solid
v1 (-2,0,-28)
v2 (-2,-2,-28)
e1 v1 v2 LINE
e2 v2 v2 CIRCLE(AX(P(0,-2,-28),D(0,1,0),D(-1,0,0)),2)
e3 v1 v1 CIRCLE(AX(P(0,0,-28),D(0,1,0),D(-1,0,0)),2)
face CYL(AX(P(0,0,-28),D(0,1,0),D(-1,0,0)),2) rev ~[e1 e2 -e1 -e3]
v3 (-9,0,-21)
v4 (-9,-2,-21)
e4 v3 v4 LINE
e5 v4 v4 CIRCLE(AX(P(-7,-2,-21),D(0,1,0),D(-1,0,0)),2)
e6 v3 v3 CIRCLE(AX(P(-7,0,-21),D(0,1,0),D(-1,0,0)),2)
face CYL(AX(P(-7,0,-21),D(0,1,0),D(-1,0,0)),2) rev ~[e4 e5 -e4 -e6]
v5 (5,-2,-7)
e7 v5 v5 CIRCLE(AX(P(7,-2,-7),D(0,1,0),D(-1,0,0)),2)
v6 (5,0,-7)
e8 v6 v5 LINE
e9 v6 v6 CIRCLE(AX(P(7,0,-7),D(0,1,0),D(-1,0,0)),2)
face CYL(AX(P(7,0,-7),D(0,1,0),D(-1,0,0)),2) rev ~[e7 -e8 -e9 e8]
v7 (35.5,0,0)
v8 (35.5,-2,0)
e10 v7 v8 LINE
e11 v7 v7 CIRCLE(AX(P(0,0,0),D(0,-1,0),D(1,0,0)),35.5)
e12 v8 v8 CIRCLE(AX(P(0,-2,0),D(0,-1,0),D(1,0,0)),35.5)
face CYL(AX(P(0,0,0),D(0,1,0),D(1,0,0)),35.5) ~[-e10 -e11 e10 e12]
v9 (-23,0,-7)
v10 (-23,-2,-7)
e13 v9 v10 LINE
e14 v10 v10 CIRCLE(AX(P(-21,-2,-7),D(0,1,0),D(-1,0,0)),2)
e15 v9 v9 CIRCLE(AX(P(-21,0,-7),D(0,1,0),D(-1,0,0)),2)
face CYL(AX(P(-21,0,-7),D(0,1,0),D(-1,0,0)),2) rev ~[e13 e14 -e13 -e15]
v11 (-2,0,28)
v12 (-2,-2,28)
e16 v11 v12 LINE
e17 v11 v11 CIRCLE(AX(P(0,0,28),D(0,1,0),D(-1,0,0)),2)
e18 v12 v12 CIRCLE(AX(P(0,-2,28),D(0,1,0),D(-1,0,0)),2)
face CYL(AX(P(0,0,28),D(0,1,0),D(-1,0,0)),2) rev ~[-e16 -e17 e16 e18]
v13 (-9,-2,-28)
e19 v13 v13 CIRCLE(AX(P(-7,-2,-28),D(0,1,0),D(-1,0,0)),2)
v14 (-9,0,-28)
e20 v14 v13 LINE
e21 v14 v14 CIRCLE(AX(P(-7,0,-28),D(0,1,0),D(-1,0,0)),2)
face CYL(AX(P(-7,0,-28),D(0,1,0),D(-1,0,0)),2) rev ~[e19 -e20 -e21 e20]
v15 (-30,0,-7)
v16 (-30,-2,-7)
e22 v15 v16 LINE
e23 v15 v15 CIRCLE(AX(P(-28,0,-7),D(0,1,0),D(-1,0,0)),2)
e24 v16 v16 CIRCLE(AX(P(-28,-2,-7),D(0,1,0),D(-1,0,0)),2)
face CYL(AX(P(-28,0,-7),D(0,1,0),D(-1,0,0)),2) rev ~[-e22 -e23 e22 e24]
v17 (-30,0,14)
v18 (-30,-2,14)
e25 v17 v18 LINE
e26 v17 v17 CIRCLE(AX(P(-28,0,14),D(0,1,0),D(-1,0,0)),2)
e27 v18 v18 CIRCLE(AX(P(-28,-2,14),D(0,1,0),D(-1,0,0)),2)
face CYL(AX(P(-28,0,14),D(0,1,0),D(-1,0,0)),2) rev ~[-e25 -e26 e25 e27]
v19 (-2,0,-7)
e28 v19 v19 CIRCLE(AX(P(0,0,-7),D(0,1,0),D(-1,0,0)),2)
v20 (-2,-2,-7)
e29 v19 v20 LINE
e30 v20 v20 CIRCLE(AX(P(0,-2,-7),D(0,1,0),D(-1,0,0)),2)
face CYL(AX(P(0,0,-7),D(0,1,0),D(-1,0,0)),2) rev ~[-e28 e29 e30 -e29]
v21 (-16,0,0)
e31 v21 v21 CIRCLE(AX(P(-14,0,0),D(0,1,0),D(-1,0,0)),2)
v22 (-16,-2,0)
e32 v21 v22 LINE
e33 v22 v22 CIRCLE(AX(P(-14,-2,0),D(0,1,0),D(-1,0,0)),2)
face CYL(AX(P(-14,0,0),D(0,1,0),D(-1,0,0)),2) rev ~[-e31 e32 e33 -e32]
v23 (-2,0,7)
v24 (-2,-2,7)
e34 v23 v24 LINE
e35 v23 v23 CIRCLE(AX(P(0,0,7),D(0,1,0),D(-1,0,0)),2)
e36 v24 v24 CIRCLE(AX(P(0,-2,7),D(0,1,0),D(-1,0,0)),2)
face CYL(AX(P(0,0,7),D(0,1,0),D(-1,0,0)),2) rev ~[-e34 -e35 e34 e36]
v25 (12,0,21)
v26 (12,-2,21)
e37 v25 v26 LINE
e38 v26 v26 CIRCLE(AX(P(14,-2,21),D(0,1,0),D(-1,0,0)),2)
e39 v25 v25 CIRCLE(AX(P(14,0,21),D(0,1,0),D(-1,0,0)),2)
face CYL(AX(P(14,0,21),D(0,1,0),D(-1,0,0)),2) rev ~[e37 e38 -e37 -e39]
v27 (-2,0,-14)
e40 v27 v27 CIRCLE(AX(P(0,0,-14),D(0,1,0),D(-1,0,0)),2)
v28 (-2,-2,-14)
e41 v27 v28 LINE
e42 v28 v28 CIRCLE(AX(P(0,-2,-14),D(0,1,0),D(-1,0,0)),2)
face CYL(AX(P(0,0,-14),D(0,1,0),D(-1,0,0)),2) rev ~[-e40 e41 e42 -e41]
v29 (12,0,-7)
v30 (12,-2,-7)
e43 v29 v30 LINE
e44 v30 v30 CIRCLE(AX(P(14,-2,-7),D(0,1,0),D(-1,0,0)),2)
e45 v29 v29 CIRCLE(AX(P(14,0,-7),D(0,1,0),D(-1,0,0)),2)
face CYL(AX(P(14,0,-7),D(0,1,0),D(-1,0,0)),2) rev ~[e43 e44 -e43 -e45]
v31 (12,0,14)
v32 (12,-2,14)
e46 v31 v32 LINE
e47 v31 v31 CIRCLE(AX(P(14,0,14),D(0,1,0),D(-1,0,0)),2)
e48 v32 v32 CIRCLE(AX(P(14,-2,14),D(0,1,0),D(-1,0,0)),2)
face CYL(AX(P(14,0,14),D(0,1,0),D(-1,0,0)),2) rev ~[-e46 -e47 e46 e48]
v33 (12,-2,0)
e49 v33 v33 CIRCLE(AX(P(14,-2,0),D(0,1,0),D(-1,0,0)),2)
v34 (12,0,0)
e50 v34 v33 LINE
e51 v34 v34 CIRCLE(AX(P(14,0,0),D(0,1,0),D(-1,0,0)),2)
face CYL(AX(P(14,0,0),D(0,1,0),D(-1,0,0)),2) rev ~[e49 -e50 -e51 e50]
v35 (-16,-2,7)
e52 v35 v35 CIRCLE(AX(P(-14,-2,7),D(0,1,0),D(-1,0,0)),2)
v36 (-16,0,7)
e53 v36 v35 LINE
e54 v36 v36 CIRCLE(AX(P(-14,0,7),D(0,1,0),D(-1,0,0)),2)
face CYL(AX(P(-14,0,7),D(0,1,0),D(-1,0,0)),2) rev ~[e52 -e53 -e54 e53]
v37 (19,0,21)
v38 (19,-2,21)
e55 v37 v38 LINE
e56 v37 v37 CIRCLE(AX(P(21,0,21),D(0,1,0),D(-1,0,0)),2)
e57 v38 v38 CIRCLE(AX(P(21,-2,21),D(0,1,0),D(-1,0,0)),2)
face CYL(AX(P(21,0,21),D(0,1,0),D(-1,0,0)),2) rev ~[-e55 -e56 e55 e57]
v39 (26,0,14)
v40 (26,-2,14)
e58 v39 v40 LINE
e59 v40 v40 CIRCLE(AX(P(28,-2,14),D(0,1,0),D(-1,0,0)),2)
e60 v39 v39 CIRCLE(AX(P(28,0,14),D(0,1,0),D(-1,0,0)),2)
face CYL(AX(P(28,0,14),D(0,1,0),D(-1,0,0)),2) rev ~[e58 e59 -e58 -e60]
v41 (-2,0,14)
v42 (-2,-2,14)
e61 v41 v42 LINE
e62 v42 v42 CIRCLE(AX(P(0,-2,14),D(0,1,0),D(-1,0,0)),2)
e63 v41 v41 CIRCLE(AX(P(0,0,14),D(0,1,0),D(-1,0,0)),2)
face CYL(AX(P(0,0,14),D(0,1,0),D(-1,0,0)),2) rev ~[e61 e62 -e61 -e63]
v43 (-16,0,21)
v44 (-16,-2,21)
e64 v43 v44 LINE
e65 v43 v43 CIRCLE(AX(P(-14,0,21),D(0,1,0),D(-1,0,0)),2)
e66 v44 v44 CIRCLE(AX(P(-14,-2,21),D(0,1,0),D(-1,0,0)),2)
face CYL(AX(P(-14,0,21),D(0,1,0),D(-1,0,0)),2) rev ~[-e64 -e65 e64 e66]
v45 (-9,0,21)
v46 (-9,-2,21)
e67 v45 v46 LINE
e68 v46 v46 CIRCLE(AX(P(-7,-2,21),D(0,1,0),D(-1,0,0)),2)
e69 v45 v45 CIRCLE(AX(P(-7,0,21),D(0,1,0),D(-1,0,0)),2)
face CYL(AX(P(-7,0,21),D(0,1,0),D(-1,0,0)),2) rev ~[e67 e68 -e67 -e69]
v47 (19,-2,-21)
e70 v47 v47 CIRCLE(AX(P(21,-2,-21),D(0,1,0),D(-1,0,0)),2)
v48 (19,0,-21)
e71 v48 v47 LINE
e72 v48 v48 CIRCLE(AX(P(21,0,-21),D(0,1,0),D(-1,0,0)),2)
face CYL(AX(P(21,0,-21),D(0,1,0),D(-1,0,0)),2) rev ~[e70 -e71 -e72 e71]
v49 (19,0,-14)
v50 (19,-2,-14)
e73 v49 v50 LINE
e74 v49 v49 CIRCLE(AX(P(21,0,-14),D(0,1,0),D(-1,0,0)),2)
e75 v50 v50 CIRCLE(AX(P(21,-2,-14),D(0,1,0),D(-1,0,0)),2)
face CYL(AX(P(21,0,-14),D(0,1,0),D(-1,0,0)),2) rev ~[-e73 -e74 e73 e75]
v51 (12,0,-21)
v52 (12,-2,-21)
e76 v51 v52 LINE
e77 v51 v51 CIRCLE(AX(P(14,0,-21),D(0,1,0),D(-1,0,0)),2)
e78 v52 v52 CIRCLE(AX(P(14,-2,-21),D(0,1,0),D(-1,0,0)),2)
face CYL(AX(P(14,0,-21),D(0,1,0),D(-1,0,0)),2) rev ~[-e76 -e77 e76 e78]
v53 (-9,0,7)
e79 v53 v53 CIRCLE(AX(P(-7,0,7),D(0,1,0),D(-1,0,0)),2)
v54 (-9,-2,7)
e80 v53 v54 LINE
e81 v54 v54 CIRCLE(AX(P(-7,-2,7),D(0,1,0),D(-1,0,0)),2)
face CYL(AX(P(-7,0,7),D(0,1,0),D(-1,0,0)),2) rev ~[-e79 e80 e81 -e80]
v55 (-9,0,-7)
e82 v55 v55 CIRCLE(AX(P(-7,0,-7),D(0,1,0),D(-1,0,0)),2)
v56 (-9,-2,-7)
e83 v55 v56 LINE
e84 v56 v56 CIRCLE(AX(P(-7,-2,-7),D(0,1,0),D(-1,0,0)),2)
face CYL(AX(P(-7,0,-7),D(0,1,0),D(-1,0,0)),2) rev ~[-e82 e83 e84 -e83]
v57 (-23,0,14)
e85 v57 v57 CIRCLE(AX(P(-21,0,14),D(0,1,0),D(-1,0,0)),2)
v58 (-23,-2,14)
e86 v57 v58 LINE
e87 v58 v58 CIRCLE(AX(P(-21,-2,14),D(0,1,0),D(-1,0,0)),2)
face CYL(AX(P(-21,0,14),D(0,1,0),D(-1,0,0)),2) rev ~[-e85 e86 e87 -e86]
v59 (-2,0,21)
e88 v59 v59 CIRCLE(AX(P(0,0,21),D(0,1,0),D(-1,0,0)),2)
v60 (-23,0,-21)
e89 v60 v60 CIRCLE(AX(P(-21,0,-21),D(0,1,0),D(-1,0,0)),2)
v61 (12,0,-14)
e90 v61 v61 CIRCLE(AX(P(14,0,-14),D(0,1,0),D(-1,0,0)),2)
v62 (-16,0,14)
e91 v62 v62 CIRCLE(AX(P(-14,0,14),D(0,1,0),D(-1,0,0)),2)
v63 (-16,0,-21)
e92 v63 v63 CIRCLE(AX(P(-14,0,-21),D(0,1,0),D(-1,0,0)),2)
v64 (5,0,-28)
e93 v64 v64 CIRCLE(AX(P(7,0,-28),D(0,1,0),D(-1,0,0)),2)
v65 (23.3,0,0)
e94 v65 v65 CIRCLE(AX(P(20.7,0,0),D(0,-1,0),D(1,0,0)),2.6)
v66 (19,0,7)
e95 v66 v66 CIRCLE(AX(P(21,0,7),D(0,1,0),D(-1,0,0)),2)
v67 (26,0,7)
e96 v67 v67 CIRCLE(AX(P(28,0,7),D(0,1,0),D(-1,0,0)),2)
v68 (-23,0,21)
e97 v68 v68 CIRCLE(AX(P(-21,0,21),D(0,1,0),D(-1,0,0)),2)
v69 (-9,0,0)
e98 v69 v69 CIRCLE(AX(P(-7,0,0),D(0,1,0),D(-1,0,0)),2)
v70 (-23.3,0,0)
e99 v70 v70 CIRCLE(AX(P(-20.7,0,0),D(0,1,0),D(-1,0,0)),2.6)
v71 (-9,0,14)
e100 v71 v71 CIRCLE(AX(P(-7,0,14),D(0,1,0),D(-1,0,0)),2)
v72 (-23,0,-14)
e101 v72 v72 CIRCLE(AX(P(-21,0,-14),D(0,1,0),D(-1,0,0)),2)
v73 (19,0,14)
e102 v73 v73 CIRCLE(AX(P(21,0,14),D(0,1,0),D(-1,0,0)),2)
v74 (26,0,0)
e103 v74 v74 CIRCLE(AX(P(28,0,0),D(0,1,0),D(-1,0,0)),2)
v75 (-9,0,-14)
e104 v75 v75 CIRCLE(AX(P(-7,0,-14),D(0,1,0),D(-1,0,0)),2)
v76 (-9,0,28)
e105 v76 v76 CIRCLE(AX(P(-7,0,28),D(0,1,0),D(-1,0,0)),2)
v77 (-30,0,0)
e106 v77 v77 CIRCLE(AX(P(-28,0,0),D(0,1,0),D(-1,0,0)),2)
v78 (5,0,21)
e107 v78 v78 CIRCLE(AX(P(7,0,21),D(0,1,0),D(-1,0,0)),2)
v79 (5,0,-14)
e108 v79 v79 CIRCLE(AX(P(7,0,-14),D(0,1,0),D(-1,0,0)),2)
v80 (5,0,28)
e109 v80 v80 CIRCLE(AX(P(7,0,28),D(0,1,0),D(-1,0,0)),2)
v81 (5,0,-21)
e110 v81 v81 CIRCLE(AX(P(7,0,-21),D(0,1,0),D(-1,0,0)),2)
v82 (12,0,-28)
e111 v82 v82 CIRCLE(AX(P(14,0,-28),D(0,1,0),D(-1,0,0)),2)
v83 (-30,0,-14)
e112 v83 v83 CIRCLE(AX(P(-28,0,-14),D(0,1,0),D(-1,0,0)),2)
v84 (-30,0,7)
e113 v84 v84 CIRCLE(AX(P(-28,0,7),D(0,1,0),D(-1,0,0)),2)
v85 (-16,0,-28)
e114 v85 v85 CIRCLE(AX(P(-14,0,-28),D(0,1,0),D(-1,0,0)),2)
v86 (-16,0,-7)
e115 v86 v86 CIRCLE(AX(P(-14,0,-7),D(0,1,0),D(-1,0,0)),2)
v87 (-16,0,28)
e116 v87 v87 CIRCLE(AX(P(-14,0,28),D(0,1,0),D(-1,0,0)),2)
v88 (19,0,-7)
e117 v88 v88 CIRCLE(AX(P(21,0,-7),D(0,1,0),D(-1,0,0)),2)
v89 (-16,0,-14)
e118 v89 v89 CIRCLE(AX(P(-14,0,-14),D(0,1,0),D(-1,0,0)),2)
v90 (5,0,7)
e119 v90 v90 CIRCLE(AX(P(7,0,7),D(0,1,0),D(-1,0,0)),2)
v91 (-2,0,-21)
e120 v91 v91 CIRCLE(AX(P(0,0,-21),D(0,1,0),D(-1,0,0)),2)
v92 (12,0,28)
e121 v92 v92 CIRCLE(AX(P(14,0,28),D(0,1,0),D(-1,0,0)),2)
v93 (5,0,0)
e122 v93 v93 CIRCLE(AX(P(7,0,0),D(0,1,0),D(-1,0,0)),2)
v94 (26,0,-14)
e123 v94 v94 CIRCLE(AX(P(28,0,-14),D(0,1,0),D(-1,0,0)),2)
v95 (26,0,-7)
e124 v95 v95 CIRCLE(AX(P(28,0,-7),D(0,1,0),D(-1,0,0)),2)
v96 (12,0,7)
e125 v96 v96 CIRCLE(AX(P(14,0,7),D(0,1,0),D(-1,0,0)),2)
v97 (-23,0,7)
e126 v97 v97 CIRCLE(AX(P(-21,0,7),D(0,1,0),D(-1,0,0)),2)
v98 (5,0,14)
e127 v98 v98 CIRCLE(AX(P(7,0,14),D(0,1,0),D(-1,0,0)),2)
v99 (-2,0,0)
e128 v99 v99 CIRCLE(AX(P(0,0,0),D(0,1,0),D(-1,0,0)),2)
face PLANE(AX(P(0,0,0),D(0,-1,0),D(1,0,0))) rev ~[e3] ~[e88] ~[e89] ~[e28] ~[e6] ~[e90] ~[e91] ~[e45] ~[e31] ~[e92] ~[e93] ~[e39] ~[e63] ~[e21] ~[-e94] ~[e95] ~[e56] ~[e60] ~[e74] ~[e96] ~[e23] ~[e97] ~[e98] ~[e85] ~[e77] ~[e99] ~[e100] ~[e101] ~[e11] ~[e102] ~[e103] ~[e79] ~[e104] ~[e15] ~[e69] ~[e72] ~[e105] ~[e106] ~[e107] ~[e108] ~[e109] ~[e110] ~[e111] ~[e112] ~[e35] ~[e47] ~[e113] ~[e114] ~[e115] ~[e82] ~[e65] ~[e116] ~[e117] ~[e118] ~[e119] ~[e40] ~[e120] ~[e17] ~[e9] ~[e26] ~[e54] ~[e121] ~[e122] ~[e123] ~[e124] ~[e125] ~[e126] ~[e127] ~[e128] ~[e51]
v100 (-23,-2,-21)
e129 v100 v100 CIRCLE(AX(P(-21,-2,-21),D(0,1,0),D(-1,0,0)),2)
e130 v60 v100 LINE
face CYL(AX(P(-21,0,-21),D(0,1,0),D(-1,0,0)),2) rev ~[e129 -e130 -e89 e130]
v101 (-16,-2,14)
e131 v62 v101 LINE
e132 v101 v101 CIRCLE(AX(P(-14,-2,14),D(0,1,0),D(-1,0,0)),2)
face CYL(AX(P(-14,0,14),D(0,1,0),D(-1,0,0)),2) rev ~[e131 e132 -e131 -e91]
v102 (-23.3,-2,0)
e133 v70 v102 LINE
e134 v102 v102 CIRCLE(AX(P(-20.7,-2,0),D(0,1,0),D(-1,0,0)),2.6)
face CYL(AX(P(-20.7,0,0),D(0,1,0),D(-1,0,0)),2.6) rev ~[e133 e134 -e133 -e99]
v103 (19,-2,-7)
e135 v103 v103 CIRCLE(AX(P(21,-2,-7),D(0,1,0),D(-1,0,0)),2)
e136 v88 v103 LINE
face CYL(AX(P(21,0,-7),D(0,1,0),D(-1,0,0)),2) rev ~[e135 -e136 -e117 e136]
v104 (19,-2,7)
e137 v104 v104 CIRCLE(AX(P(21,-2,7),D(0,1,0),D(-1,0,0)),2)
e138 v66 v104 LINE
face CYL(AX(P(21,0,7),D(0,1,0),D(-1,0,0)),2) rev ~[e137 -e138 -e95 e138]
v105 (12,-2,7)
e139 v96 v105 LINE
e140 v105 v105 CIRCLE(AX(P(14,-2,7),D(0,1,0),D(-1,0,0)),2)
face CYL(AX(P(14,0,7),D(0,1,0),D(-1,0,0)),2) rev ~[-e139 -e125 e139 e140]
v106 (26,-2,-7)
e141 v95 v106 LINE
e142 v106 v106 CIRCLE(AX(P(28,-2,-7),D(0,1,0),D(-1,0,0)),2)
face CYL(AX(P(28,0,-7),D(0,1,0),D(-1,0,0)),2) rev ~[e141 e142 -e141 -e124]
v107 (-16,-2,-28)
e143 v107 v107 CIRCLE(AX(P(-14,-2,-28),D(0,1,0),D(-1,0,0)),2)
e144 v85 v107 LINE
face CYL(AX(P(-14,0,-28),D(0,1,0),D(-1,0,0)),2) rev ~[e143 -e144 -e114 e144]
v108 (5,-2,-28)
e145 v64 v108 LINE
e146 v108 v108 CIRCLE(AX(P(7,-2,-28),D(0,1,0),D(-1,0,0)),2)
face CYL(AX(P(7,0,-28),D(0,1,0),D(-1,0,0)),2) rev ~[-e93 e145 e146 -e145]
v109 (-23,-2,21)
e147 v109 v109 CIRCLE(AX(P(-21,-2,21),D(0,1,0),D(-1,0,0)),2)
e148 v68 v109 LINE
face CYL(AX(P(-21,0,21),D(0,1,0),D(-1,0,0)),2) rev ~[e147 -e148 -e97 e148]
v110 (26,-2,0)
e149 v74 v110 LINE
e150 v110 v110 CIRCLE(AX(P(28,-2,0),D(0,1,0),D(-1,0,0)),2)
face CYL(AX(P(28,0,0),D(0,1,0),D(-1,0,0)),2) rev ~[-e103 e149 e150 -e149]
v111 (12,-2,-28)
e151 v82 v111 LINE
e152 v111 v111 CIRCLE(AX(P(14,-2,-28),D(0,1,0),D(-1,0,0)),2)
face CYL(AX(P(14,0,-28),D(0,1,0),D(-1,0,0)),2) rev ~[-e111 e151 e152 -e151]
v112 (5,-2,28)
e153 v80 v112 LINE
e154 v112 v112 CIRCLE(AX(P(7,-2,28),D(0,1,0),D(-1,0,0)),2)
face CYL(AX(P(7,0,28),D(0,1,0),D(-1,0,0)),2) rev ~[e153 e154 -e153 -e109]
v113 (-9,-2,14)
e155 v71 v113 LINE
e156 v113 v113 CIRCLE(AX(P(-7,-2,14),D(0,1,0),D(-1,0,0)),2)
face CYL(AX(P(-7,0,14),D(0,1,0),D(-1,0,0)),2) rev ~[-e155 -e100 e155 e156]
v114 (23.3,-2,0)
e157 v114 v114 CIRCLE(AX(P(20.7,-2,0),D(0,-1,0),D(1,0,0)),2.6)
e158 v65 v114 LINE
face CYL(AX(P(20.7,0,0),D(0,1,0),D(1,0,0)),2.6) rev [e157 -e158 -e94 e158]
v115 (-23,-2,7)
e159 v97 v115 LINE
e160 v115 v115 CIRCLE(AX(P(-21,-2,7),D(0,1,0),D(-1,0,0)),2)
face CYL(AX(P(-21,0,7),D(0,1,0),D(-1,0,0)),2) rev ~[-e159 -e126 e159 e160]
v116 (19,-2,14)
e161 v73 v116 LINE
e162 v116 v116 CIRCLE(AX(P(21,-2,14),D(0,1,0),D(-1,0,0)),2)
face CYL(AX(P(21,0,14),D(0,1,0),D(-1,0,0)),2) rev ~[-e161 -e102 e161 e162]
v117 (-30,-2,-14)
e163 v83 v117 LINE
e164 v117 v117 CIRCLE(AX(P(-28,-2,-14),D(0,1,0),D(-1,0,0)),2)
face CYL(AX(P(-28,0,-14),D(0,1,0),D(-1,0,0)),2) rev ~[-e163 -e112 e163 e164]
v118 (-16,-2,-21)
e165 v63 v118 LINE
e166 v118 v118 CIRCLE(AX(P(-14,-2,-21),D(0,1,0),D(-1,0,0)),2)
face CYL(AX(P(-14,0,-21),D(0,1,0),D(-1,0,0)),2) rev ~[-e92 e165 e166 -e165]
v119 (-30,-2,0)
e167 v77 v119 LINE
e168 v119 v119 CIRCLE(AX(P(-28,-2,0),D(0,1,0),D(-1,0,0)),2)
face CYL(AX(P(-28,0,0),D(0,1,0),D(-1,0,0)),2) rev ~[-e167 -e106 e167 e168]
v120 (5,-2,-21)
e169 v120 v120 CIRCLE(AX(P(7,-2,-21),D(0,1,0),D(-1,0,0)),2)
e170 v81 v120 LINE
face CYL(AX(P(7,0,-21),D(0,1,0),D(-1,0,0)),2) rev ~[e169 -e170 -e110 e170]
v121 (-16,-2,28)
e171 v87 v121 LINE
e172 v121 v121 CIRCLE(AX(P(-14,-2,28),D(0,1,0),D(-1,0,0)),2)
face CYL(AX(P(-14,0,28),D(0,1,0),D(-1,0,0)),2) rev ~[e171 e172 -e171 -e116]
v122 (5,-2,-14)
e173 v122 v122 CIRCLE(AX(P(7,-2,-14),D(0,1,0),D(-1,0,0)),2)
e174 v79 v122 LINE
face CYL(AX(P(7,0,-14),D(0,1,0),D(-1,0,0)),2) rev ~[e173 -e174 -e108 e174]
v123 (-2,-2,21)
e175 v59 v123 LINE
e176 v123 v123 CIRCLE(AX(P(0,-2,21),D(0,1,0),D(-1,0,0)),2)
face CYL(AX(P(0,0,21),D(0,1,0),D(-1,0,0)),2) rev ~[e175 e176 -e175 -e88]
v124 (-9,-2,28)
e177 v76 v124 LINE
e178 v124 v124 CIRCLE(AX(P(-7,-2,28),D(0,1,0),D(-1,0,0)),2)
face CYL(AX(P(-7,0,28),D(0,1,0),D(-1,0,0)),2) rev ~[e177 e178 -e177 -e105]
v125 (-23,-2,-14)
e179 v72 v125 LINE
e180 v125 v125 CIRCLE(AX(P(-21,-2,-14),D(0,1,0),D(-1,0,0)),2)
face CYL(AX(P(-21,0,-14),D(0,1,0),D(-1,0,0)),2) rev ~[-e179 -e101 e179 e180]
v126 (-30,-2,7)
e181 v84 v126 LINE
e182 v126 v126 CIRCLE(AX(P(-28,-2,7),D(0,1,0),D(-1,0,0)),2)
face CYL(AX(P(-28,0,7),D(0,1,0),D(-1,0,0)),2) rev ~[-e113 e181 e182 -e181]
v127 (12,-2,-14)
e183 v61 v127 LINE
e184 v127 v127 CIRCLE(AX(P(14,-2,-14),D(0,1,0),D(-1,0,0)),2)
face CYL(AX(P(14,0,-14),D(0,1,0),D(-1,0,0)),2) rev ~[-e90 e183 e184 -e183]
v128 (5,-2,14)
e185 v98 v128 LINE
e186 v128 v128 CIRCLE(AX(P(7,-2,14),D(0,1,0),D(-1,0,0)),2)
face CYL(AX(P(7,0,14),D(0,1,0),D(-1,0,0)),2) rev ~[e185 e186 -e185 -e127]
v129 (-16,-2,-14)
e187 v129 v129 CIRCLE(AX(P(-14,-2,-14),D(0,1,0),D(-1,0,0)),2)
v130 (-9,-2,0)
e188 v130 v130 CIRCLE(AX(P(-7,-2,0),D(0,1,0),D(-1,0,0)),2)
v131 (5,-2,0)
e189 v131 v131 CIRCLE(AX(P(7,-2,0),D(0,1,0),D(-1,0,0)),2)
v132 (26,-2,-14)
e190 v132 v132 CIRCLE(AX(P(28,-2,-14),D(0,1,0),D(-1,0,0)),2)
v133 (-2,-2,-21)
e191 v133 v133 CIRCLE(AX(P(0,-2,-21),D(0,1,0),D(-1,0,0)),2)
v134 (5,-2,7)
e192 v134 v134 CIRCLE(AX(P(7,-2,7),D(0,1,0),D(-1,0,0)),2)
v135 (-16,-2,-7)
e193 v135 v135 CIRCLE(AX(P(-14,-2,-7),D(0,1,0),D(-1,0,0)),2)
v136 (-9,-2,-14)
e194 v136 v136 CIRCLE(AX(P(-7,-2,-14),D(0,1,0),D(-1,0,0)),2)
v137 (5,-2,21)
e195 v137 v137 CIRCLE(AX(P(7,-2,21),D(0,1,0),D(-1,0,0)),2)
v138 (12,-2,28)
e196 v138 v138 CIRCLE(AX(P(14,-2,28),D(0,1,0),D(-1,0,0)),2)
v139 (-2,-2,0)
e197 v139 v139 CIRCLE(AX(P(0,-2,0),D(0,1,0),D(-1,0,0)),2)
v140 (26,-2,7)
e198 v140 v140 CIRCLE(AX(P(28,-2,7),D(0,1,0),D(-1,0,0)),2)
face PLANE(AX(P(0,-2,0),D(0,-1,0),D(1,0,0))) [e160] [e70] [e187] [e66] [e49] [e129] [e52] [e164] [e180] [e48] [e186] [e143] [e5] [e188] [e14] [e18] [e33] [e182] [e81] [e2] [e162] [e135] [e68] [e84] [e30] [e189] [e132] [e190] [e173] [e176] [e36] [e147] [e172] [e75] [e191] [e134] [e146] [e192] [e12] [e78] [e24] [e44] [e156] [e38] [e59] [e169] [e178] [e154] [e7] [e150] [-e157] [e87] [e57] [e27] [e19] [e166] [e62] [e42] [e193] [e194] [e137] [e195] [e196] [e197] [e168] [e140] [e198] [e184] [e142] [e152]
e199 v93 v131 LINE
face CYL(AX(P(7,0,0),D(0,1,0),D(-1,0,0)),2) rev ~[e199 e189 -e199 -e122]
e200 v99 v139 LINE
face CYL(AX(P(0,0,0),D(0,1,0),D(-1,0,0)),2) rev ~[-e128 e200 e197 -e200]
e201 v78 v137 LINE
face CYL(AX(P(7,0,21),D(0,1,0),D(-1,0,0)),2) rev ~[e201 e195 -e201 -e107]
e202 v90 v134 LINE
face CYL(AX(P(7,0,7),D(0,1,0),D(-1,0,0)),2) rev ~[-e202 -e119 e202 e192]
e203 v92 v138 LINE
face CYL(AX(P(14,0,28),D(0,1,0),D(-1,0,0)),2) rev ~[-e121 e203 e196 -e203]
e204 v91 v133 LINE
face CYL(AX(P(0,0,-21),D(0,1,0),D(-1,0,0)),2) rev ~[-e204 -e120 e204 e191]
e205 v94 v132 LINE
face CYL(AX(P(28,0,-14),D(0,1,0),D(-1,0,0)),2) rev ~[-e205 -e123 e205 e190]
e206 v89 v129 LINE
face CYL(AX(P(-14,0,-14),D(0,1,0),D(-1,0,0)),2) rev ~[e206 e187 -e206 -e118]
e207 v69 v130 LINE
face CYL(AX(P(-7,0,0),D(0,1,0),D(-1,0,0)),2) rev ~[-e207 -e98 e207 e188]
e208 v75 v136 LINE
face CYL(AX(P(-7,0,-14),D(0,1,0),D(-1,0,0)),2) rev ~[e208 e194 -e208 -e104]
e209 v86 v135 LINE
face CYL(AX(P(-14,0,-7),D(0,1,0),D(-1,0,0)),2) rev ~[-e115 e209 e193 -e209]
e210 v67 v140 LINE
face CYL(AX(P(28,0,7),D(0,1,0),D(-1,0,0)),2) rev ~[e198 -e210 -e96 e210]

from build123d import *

# Parameters (mm, degrees)
F0_R     = 2.6
F1_DEPTH = 2
F2_R     = 2
F3_DEPTH = 25


with BuildPart() as f1:
    # F0 (on Front) → F1 (new body)
    with BuildSketch(Plane.XZ):
        with BuildLine():
            ThreePointArc((-35.5, 0), (0, -35.5), (35.5, 0))
            ThreePointArc((35.5, 0), (0, 35.5), (-35.5, 0))
        make_face()
        with BuildLine():
            ThreePointArc((-18.1, 0), (-20.7, -2.6), (-23.3, 0))
            ThreePointArc((-23.3, 0), (-20.7, 2.6), (-18.1, 0))
        make_face(mode=Mode.SUBTRACT)
        with Locations((20.7, 0)):
            Circle(F0_R, mode=Mode.SUBTRACT)
    extrude(amount=F1_DEPTH)

    # F2 (on face) → F3 (cut)
    with BuildSketch(Plane(origin=(0, 0, 0), x_dir=(-1, 0, 0), z_dir=(0, 1, 0))):
        Circle(F2_R)
        with Locations((0, 7)):
            Circle(F2_R)
        with Locations((0, 14)):
            Circle(F2_R)
        with Locations((0, 21)):
            Circle(F2_R)
        with Locations((0, 28)):
            Circle(F2_R)
        with Locations((7, 0)):
            Circle(F2_R)
        with Locations((7, 7)):
            Circle(F2_R)
        with Locations((7, 14)):
            Circle(F2_R)
        with Locations((7, 21)):
            Circle(F2_R)
        with Locations((7, 28)):
            Circle(F2_R)
        with Locations((14, 0)):
            Circle(F2_R)
        with Locations((14, 7)):
            Circle(F2_R)
        with Locations((14, 14)):
            Circle(F2_R)
        with Locations((14, 21)):
            Circle(F2_R)
        with Locations((14, 28)):
            Circle(F2_R)
        with Locations((21, 7)):
            Circle(F2_R)
        with Locations((21, 14)):
            Circle(F2_R)
        with Locations((21, 21)):
            Circle(F2_R)
        with Locations((28, 0)):
            Circle(F2_R)
        with Locations((28, 7)):
            Circle(F2_R)
        with Locations((28, 14)):
            Circle(F2_R)
        with Locations((-7, 28)):
            Circle(F2_R)
        with Locations((-7, 21)):
            Circle(F2_R)
        with Locations((-7, 14)):
            Circle(F2_R)
        with Locations((-7, 7)):
            Circle(F2_R)
        with Locations((-7, 0)):
            Circle(F2_R)
        with Locations((-14, 28)):
            Circle(F2_R)
        with Locations((-14, 21)):
            Circle(F2_R)
        with Locations((-14, 14)):
            Circle(F2_R)
        with Locations((-14, 7)):
            Circle(F2_R)
        with Locations((-14, 0)):
            Circle(F2_R)
        with Locations((-21, 21)):
            Circle(F2_R)
        with Locations((-21, 14)):
            Circle(F2_R)
        with Locations((-21, 7)):
            Circle(F2_R)
        with Locations((-28, 14)):
            Circle(F2_R)
        with Locations((-28, 7)):
            Circle(F2_R)
        with Locations((-28, 0)):
            Circle(F2_R)
        with Locations((-28, -7)):
            Circle(F2_R)
        with Locations((-21, -7)):
            Circle(F2_R)
        with Locations((-14, -7)):
            Circle(F2_R)
        with Locations((28, -7)):
            Circle(F2_R)
        with Locations((21, -7)):
            Circle(F2_R)
        with Locations((14, -7)):
            Circle(F2_R)
        with Locations((7, -7)):
            Circle(F2_R)
        with Locations((0, -7)):
            Circle(F2_R)
        with Locations((-7, -7)):
            Circle(F2_R)
        with Locations((-28, -14)):
            Circle(F2_R)
        with Locations((-21, -14)):
            Circle(F2_R)
        with Locations((-14, -14)):
            Circle(F2_R)
        with Locations((28, -14)):
            Circle(F2_R)
        with Locations((21, -14)):
            Circle(F2_R)
        with Locations((14, -14)):
            Circle(F2_R)
        with Locations((7, -14)):
            Circle(F2_R)
        with Locations((0, -14)):
            Circle(F2_R)
        with Locations((-7, -14)):
            Circle(F2_R)
        with Locations((-21, -21)):
            Circle(F2_R)
        with Locations((-14, -21)):
            Circle(F2_R)
        with Locations((21, -21)):
            Circle(F2_R)
        with Locations((14, -21)):
            Circle(F2_R)
        with Locations((7, -21)):
            Circle(F2_R)
        with Locations((0, -21)):
            Circle(F2_R)
        with Locations((-7, -21)):
            Circle(F2_R)
        with Locations((-14, -28)):
            Circle(F2_R)
        with Locations((14, -28)):
            Circle(F2_R)
        with Locations((7, -28)):
            Circle(F2_R)
        with Locations((0, -28)):
            Circle(F2_R)
        with Locations((-7, -28)):
            Circle(F2_R)
    extrude(amount=-F3_DEPTH, mode=Mode.SUBTRACT)


solid = f1.part
